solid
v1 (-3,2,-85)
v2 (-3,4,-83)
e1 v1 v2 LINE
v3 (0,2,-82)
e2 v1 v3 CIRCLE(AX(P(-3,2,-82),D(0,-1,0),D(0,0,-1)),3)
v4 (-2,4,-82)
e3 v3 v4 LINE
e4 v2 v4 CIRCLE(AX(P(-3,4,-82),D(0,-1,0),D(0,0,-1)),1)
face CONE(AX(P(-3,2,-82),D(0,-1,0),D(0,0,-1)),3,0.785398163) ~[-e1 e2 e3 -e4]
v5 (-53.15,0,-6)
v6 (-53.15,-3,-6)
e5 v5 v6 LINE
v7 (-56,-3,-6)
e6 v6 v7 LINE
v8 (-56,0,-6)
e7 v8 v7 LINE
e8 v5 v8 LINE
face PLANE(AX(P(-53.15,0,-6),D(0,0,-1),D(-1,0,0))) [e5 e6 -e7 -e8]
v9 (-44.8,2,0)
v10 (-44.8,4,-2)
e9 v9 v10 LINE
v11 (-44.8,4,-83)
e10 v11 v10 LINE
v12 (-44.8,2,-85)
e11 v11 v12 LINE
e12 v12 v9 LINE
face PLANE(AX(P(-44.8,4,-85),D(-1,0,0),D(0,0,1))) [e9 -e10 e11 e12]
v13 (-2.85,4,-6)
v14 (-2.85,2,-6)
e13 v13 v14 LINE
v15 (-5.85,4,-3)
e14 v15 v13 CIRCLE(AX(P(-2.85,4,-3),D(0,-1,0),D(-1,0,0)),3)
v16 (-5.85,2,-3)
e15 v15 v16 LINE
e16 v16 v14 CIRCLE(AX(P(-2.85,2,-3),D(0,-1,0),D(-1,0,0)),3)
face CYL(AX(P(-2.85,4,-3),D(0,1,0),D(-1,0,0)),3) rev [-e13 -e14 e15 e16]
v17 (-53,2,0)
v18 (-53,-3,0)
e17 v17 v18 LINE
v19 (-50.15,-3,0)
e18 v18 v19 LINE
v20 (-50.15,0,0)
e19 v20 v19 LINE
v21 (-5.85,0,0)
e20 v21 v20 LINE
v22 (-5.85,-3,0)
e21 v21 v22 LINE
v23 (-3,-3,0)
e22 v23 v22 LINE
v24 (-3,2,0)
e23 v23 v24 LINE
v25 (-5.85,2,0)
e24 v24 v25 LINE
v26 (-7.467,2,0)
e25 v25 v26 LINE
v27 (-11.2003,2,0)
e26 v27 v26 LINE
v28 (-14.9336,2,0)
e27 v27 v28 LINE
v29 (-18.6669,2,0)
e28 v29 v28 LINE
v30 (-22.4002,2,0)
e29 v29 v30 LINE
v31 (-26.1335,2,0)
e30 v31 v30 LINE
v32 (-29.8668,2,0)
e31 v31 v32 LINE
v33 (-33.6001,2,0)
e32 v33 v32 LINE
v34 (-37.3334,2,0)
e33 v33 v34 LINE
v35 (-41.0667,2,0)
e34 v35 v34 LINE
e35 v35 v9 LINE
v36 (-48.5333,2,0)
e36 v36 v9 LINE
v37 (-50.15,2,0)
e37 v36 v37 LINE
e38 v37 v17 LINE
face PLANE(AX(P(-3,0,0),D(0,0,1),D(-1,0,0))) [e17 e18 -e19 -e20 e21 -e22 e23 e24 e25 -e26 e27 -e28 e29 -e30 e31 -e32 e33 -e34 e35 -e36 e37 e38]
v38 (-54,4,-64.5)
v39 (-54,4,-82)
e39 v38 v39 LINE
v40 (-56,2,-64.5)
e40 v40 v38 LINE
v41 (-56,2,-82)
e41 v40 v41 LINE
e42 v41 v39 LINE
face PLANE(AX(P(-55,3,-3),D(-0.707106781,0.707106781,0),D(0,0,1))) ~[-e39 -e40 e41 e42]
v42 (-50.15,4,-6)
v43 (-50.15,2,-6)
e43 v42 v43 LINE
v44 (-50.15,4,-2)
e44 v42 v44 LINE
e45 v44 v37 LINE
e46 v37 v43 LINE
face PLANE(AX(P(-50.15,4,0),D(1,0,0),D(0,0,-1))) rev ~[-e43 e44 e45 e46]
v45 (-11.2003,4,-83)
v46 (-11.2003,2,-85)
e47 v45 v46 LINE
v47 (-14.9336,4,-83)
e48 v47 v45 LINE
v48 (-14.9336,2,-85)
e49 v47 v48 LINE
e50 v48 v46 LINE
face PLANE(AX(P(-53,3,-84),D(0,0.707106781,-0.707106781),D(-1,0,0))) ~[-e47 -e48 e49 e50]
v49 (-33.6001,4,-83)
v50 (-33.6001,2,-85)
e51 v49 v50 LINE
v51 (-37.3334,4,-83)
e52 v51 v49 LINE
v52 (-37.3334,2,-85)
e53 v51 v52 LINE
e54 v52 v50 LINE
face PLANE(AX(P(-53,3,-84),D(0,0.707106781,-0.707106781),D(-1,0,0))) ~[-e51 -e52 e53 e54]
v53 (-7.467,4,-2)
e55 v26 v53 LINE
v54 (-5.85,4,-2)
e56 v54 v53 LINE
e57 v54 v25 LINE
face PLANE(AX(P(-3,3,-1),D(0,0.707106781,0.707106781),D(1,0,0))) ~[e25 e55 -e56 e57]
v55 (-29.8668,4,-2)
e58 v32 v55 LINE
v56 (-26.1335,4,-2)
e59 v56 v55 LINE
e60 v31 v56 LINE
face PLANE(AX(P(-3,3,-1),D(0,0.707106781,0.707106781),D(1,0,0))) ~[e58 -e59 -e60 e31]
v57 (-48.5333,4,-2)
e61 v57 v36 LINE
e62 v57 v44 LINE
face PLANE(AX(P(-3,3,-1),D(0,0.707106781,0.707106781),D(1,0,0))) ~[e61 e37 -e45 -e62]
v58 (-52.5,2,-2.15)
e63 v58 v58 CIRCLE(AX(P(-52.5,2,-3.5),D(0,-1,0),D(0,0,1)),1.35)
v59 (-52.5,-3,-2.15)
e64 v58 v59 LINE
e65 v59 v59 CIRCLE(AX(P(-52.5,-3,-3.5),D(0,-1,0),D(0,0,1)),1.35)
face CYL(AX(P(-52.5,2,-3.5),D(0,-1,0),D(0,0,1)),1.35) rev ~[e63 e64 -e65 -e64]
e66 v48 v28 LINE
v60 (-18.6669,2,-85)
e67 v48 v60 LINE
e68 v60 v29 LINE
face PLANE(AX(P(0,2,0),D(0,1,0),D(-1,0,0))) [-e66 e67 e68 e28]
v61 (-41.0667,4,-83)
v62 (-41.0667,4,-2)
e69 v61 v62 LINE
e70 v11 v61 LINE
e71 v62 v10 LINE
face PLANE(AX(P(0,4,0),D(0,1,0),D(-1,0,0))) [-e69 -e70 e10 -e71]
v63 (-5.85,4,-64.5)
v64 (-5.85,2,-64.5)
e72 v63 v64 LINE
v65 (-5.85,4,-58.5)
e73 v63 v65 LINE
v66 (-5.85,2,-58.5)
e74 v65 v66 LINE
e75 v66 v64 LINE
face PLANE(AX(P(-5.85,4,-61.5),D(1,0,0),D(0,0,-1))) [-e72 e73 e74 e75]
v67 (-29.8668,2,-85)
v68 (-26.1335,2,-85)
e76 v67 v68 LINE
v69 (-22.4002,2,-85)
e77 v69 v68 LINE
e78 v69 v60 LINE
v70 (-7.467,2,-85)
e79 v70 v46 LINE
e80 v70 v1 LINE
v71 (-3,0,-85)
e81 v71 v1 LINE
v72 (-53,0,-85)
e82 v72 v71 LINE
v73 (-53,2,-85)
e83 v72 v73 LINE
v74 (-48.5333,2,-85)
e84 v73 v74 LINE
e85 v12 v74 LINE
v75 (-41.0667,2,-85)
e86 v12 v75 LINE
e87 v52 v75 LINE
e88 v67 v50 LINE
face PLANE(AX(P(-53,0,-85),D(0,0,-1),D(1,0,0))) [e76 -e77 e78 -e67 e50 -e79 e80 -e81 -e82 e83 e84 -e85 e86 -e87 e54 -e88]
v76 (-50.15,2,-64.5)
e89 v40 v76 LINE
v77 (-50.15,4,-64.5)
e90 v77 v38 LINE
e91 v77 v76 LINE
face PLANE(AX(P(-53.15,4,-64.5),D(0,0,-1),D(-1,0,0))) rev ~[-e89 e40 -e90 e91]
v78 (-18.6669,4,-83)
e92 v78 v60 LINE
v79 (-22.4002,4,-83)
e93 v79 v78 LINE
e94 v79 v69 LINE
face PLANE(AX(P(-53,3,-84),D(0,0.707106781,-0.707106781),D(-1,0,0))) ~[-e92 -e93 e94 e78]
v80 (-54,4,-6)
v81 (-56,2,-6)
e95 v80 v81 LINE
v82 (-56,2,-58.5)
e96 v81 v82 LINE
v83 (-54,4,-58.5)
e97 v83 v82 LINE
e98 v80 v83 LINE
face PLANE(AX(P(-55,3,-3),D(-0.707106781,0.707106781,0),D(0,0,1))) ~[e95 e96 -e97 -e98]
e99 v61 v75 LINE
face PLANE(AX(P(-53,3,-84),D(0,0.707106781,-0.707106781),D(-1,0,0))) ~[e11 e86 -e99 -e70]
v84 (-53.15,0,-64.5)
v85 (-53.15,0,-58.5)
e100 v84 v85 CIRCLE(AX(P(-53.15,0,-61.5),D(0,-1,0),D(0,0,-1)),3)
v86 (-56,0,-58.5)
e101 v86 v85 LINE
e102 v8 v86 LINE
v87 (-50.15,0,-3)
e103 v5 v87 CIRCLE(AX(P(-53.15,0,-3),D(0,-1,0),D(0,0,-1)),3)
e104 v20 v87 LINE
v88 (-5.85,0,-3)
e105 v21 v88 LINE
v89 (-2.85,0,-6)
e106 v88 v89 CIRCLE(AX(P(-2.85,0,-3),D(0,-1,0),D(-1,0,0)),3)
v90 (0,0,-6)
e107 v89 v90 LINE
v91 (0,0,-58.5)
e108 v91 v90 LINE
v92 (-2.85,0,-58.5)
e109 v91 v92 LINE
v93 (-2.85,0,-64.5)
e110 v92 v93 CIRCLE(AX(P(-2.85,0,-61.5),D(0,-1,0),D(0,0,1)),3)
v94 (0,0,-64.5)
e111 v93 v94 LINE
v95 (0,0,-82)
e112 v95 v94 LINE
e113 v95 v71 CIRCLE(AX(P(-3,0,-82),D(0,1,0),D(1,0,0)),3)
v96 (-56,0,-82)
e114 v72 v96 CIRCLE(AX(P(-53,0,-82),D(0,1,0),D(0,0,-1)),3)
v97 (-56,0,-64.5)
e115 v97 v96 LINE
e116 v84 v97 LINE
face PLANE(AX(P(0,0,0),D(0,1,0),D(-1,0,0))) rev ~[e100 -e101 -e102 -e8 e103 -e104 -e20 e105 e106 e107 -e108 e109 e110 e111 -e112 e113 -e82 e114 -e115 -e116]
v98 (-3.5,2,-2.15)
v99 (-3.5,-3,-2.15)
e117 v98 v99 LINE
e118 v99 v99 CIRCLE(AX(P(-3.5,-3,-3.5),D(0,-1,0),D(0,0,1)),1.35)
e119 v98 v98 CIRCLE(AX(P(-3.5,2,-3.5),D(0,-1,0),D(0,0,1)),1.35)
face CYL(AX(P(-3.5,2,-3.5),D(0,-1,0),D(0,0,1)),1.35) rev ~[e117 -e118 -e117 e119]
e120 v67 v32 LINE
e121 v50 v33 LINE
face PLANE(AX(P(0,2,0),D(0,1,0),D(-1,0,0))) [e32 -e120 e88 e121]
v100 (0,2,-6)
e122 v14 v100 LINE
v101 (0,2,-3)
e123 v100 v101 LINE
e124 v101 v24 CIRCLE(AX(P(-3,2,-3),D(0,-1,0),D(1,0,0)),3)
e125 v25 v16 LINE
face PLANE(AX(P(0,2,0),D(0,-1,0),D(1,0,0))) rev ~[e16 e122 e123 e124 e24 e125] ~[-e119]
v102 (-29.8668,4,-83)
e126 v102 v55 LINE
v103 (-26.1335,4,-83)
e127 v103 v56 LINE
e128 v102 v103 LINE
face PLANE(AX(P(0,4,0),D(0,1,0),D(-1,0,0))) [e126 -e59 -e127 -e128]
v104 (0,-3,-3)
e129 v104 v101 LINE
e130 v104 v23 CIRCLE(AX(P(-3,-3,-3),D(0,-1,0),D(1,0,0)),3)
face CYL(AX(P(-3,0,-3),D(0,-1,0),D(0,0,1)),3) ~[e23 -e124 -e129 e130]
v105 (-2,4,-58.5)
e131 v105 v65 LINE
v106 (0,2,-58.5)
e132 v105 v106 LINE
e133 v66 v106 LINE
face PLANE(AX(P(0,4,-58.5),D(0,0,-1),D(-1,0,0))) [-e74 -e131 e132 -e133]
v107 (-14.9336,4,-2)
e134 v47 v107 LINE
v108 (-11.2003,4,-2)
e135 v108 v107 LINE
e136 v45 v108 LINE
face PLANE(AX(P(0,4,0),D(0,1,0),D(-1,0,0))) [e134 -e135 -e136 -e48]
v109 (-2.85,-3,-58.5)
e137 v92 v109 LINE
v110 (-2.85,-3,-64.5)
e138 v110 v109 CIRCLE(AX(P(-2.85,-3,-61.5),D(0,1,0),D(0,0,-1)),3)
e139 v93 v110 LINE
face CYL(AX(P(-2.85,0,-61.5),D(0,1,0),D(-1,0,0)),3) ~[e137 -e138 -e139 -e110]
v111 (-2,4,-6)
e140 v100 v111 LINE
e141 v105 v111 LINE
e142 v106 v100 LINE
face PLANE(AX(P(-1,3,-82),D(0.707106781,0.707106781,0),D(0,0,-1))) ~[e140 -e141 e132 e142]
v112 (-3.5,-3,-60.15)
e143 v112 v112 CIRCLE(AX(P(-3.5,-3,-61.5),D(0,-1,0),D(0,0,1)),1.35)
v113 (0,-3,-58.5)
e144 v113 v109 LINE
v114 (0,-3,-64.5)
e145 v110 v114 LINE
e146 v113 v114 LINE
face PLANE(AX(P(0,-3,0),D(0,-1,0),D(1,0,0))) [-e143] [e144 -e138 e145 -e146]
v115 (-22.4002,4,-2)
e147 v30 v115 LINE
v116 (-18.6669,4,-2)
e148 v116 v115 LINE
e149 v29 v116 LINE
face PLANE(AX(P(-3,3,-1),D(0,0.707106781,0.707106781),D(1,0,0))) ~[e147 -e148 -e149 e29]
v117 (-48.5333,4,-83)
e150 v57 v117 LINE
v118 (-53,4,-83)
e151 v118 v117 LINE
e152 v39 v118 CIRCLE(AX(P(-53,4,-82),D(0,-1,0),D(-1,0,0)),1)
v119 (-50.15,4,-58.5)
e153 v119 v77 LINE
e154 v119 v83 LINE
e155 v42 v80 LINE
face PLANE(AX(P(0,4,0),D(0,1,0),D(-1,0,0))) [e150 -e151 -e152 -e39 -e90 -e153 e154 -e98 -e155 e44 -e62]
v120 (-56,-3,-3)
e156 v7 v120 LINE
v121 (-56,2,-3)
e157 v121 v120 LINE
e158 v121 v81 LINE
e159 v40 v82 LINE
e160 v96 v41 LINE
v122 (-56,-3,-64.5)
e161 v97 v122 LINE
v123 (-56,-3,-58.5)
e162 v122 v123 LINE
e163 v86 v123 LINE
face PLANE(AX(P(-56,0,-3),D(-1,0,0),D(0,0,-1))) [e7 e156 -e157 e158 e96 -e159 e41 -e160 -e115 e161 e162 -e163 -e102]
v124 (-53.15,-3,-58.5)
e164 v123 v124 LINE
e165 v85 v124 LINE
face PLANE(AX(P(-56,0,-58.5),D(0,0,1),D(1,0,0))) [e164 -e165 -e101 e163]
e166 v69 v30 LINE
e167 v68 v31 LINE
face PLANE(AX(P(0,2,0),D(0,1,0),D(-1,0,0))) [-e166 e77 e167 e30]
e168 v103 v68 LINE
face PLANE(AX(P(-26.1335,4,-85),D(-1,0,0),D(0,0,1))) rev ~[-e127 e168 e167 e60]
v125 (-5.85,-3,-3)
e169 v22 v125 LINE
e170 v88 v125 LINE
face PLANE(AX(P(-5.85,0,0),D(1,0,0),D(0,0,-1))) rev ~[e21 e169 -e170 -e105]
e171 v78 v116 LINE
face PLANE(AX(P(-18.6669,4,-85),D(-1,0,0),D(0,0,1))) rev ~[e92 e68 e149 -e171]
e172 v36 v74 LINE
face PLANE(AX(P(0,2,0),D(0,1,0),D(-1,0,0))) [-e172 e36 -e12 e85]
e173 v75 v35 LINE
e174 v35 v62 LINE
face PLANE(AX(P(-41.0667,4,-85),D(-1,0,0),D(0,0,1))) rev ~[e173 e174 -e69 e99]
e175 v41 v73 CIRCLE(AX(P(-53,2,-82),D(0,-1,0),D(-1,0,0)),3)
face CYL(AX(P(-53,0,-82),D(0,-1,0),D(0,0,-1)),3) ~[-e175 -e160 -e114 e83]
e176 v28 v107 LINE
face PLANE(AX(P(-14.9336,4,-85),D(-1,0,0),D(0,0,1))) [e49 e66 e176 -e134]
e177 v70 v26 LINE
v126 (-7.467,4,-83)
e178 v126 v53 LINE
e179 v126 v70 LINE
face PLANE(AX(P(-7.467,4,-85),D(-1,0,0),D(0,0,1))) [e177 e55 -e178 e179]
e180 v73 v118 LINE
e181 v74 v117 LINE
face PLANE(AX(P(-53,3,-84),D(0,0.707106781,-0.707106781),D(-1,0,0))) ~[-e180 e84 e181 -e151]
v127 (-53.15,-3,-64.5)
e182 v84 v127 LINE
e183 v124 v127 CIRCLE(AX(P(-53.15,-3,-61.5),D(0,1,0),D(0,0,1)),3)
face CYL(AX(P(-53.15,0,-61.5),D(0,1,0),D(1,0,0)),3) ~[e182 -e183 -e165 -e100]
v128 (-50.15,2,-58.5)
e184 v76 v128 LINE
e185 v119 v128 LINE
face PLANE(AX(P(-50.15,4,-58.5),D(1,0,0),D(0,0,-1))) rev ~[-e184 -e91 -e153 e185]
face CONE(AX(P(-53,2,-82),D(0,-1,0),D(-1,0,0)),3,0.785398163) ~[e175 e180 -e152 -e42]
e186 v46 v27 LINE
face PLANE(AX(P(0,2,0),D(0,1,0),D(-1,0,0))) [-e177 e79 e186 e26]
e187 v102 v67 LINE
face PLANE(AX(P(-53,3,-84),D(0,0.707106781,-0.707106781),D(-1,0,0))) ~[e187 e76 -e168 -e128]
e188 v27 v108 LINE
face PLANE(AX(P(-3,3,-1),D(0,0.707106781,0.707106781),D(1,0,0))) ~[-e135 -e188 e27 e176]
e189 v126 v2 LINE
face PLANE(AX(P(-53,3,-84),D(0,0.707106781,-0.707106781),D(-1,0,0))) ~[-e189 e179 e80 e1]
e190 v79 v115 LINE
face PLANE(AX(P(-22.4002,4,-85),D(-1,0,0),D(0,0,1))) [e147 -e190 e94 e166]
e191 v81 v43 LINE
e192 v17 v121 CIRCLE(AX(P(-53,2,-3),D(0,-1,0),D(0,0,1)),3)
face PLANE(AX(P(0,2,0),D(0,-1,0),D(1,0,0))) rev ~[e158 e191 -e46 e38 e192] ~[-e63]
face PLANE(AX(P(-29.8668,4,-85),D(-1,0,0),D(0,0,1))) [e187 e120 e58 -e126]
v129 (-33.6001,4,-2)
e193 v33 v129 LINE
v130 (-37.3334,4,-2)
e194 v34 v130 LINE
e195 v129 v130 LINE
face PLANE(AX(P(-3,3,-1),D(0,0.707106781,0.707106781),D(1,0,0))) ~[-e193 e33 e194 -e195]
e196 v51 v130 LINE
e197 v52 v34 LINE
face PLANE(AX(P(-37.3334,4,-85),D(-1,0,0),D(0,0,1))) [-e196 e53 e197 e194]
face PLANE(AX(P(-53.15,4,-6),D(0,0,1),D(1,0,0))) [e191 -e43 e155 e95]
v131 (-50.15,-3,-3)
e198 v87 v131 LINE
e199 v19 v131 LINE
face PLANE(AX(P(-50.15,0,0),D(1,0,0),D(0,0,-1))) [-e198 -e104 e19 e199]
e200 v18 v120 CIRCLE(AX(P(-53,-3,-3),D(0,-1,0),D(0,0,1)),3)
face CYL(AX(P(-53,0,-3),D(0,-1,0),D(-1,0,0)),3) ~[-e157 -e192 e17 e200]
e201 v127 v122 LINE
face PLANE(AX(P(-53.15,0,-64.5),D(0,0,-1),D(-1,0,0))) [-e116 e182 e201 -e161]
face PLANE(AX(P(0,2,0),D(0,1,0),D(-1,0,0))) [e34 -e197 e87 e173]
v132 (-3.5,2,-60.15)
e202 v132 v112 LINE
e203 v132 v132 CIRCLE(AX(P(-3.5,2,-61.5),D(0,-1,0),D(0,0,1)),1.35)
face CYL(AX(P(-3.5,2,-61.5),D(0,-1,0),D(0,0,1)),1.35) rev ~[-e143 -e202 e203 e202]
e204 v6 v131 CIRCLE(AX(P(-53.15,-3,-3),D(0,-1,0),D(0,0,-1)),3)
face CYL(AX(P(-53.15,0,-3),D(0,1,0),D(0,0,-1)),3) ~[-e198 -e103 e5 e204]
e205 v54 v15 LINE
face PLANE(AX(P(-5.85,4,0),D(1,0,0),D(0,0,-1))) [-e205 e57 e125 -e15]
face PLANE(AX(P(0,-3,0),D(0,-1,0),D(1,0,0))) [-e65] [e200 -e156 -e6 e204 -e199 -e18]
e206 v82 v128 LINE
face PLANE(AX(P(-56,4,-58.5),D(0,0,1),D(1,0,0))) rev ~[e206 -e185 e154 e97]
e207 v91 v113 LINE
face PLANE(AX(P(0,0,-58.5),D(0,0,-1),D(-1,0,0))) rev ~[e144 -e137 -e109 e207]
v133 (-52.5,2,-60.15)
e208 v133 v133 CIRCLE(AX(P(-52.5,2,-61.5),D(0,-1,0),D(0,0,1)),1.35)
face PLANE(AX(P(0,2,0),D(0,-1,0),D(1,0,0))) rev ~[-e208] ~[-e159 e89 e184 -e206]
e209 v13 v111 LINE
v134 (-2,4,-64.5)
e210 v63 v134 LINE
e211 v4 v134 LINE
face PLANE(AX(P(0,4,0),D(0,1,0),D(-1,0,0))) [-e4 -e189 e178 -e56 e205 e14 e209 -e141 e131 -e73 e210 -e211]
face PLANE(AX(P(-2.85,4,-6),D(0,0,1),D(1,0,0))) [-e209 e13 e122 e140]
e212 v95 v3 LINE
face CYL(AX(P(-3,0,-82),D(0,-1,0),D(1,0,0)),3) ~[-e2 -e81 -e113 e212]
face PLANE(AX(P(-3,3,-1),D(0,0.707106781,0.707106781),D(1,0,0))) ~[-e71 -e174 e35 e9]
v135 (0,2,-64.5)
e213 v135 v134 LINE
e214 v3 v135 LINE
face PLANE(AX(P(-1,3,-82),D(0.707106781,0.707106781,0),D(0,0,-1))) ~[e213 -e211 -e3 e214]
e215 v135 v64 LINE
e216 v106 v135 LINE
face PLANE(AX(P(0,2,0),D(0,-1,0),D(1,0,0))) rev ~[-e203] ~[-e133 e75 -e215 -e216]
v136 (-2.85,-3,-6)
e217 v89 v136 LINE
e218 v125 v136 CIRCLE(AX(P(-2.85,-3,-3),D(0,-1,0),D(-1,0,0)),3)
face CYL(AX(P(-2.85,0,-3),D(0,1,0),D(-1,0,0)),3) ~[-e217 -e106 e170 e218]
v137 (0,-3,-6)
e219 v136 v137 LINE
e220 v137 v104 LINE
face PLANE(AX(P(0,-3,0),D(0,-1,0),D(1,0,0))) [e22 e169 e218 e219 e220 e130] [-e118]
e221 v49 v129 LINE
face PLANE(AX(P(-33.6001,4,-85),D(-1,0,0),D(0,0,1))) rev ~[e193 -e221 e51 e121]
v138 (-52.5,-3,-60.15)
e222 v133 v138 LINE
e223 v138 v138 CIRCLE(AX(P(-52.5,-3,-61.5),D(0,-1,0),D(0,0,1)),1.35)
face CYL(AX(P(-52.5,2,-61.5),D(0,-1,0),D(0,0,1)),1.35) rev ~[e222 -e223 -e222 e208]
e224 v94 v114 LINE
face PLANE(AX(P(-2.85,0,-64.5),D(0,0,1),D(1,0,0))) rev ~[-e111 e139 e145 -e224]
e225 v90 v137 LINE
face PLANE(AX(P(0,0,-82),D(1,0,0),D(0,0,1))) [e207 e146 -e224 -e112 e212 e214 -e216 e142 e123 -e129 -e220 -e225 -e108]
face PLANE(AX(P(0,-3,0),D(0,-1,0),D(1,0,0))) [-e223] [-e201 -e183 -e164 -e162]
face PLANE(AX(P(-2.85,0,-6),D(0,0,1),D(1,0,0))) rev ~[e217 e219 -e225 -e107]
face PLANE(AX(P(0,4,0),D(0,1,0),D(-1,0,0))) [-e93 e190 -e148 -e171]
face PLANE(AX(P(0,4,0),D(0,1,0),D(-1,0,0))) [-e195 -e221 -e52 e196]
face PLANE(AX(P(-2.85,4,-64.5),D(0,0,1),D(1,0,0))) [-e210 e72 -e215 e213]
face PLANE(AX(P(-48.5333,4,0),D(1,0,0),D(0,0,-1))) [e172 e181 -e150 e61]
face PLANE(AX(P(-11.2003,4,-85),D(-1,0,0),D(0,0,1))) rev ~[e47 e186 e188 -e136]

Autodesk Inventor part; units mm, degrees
ref_plane "YZ Plane" through (0, 0, 0) normal (1, 0, 0) x (0, 1, 0)
ref_plane "XZ Plane" through (0, 0, 0) normal (0, 1, 0) x (-1, 0, 0)
ref_plane "XY Plane" through (0, 0, 0) normal (0, 0, 1) x (1, 0, 0)
sketch "Sketch1" plane through (0, 0, 0) normal (0, 1, 0) x (-1, 0, 0)
  line L0 (3, 0) -> (53, 0)
  line L1 (56, -3) -> (56, -82)
  line L2 (53, -85) -> (3, -85)
  line L3 (0, -82) -> (0, -3)
  arc A0 (56, -3) -> (53, 0) centre (53, -3) ccw
  arc A1 (53, -85) -> (56, -82) centre (53, -82) ccw
  arc A2 (0, -82) -> (3, -85) centre (3, -82) ccw
  arc A3 (3, 0) -> (0, -3) centre (3, -3) ccw
  point P0 (0, 0)
  point P1 (56, 0)
  point P2 (0, -85)
  dimension "d0" = 56
  dimension "d1" = 85
  dimension "d2" = 3
extrude "Extrusion1" add sketch "Sketch1" along normal blind 4
chamfer "Chamfer1" distance 2 angle 45 8 edges at (0, 4, -42.5) (-0.8787, 4, -84.1213) (-28, 4, -85) (-55.1213, 4, -84.1213) (-56, 4, -42.5) (-55.1213, 4, -0.8787) (-28, 4, 0) (-0.8787, 4, -0.8787)
sketch "Sketch2" plane through (0, 0, 0) normal (0, 1, 0) x (-1, 0, 0)
  line L0 (53, 0) -> (3, 0) projected
  line L1 (3, -85) -> (53, -85) projected
  line L2 (44.8, 0) -> (48.5333, 0)
  line L3 (48.5333, 0) -> (48.5333, -85)
  line L4 (48.5333, -85) -> (44.8, -85)
  line L5 (44.8, -85) -> (44.8, 0)
  line L6 (56, -82) -> (56, -3) projected
  line L7 (41.0667, 0) -> (44.8, 0)
  line L8 (44.8, 0) -> (44.8, -85)
  line L9 (44.8, -85) -> (41.0667, -85)
  line L10 (41.0667, -85) -> (41.0667, 0)
  line L11 (37.3334, 0) -> (41.0667, 0)
  line L12 (41.0667, 0) -> (41.0667, -85)
  line L13 (41.0667, -85) -> (37.3334, -85)
  line L14 (37.3334, -85) -> (37.3334, 0)
  line L15 (33.6001, 0) -> (37.3334, 0)
  line L16 (37.3334, 0) -> (37.3334, -85)
  line L17 (37.3334, -85) -> (33.6001, -85)
  line L18 (33.6001, -85) -> (33.6001, 0)
  line L19 (29.8668, 0) -> (33.6001, 0)
  line L20 (33.6001, 0) -> (33.6001, -85)
  line L21 (33.6001, -85) -> (29.8668, -85)
  line L22 (29.8668, -85) -> (29.8668, 0)
  line L23 (26.1335, 0) -> (29.8668, 0)
  line L24 (29.8668, 0) -> (29.8668, -85)
  line L25 (29.8668, -85) -> (26.1335, -85)
  line L26 (26.1335, -85) -> (26.1335, 0)
  line L27 (22.4002, 0) -> (26.1335, 0)
  line L28 (26.1335, 0) -> (26.1335, -85)
  line L29 (26.1335, -85) -> (22.4002, -85)
  line L30 (22.4002, -85) -> (22.4002, 0)
  line L31 (18.6669, 0) -> (22.4002, 0)
  line L32 (22.4002, 0) -> (22.4002, -85)
  line L33 (22.4002, -85) -> (18.6669, -85)
  line L34 (18.6669, -85) -> (18.6669, 0)
  line L35 (14.9336, 0) -> (18.6669, 0)
  line L36 (18.6669, 0) -> (18.6669, -85)
  line L37 (18.6669, -85) -> (14.9336, -85)
  line L38 (14.9336, -85) -> (14.9336, 0)
  line L39 (11.2003, 0) -> (14.9336, 0)
  line L40 (14.9336, 0) -> (14.9336, -85)
  line L41 (14.9336, -85) -> (11.2003, -85)
  line L42 (11.2003, -85) -> (11.2003, 0)
  line L43 (7.467, 0) -> (11.2003, 0)
  line L44 (11.2003, 0) -> (11.2003, -85)
  line L45 (11.2003, -85) -> (7.467, -85)
  line L46 (7.467, -85) -> (7.467, 0)
  point P0 (0, 0)
  dimension "d8" = 7.4667
  dimension "d9" = 3.7333
  dimension "d12" = 3.7333
extrude "Extrusion2" cut sketch "Sketch2" against normal blind 2 from surface at 4 contours L3 L1 L5 L0 | L10 L1 L14 L0 | L18 L1 L22 L0 | L26 L1 L30 L0 | L34 L1 L38 L0 | L42 L1 L46 L0
sketch "Sketch3" plane through (0, 0, 0) normal (0, -1, 0) x (1, 0, 0)
  line L0 (-3, 0) -> (-5.85, 0)
  line L1 (-5.85, 0) -> (-5.85, -3)
  line L2 (-2.85, -6) -> (0, -6)
  line L3 (0, -6) -> (0, -3)
  line L4 (0, -3) -> (0, -82) projected
  line L5 (0, -58.5) -> (-4.467, -58.5)
  line L6 (-5.85, -64.5) -> (-5.85, -64.5)
  line L7 (-4.467, -64.5) -> (0, -64.5)
  line L8 (0, -64.5) -> (0, -58.5)
  line L9 (-28, 0) -> (-28, -85) construction
  line L10 (-53, 0) -> (-3, 0) projected
  line L11 (-3, -85) -> (-53, -85) projected
  arc A0 (0, -3) -> (-3, 0) centre (-3, -3) ccw
  arc A1 (-5.85, -3) -> (-2.85, -6) centre (-2.85, -3) ccw
  line L12 (0, -6) -> (-5.85, -6)
  line L13 (0, -58.5) -> (-2.85, -58.5)
  line L14 (-2.85, -64.5) -> (0, -64.5)
  line L15 (-5.85, -61.5) -> (-5.85, -61.5)
  arc A2 (-2.85, -58.5) -> (-5.85, -61.5) centre (-2.85, -61.5) ccw
  arc A3 (-5.85, -61.5) -> (-2.85, -64.5) centre (-2.85, -61.5) ccw
  line L16 (0, -58.5) -> (-5.85, -58.5)
  line L17 (-5.85, -58.5) -> (-5.85, -64.5)
  line L18 (-5.85, -64.5) -> (0, -64.5)
  line L19 (0, -3) -> (0, -82) projected
  line L20 (-5.85, -6) -> (-5.85, 0)
  line L21 (-53, 0) -> (-50.15, 0)
  line L22 (-50.15, 0) -> (-50.15, -3)
  line L23 (-53.15, -6) -> (-56, -6)
  line L24 (-56, -6) -> (-56, -3)
  line L25 (-56, -58.5) -> (-51.533, -58.5)
  line L26 (-50.15, -64.5) -> (-50.15, -64.5)
  line L27 (-51.533, -64.5) -> (-56, -64.5)
  line L28 (-56, -64.5) -> (-56, -58.5)
  arc A4 (-53, 0) -> (-56, -3) centre (-53, -3) ccw
  arc A5 (-53.15, -6) -> (-50.15, -3) centre (-53.15, -3) ccw
  line L29 (-56, -6) -> (-50.15, -6)
  line L30 (-56, -58.5) -> (-53.15, -58.5)
  line L31 (-53.15, -64.5) -> (-56, -64.5)
  line L32 (-50.15, -61.5) -> (-50.15, -61.5)
  arc A6 (-50.15, -61.5) -> (-53.15, -58.5) centre (-53.15, -61.5) ccw
  arc A7 (-53.15, -64.5) -> (-50.15, -61.5) centre (-53.15, -61.5) ccw
  line L33 (-56, -58.5) -> (-50.15, -58.5)
  line L34 (-50.15, -58.5) -> (-50.15, -64.5)
  line L35 (-50.15, -64.5) -> (-56, -64.5)
  line L36 (-50.15, -6) -> (-50.15, 0)
  point P0 (0, 0)
  point P1 (-7.467, 0)
  point P2 (-2.2335, -58.5)
  point P3 (0, -64.5)
  point P4 (-7.467, -2)
  point P5 (-56, 0)
  point P6 (-48.533, 0)
  point P7 (-56, -3)
  point P8 (-53.7665, -58.5)
  point P9 (-53, 0)
  point P10 (-48.533, -2)
  point P11 (-53.15, -58.5)
  point P12 (-5.85, -61.5)
  point P13 (-2.85, -64.5)
  point P14 (-2.85, -58.5)
  point P15 (-50.15, 0)
  point P16 (-2.85, -6)
  dimension "d19" = 6
  dimension "d21" = 58.5
  dimension "d22" = 6
  dimension "d25" = 28
  dimension "d26" = 3
  dimension "d29" = 3
  dimension "d30" = 3
  dimension "d48" = 5.85
extrude "Extrusion3" add sketch "Sketch3" along normal blind 3 contours A0 L3 L2 A1 L1 L0 | L4 L7 A3 A2 L5 | L22 A5 L23 L24 A4 L10 | L25 A6 A7 L27 L28
extrude "Extrusion4" cut sketch "Sketch3" along normal blind 2 from surface at -4 contours A0 L3 L2 A1 L1 L0 | L4 L7 A3 A2 L5 | L22 A5 L23 L24 A4 L10 | L36 L29 A5 | A2 L17 L16 L5 | L7 L18 L17 A3 | L25 A6 A7 L27 L28 | L25 L33 L34 A6 | L34 L35 L27 A7
sketch "Sketch4" plane through (-53, 2, 0) normal (0, 1, 0) x (1, 0, 0)
  line L0 (-0.15, 58.5) -> (-3, 58.5) projected
  line L1 (-3, 64.5) -> (-3, 58.5) projected
  line L2 (-3, 6) -> (-3, 3) projected
  line L3 (0, 0) -> (2.85, 0) projected
  line L4 (47.15, 0) -> (50, 0) projected
  line L5 (53, 3) -> (53, 6) projected
  line L6 (53, 58.5) -> (53, 64.5) projected
  line L7 (50.15, 64.5) -> (53, 64.5) projected
  point P0 (0.5, 3.5)
  point P1 (0.5, 61.5)
  point P2 (49.5, 61.5)
  point P3 (49.5, 3.5)
  dimension "d49" = 3
  dimension "d50" = 3.5
  dimension "d51" = 3.5
  dimension "d52" = 3.5
  dimension "d53" = 3.5
  dimension "d54" = 3.5
  dimension "d55" = 3.5
  dimension "d56" = 3
hole "Hole1" at (-52.5, 2, -3.5) at (-52.5, 2, -61.5) at (-3.5, 2, -61.5) at (-3.5, 2, -3.5) direction (0, -1, 0) diameter 2.7 end through all
properties part number "Raspberry-Pi-4B heatsink1" material "Aluminum 6061"
